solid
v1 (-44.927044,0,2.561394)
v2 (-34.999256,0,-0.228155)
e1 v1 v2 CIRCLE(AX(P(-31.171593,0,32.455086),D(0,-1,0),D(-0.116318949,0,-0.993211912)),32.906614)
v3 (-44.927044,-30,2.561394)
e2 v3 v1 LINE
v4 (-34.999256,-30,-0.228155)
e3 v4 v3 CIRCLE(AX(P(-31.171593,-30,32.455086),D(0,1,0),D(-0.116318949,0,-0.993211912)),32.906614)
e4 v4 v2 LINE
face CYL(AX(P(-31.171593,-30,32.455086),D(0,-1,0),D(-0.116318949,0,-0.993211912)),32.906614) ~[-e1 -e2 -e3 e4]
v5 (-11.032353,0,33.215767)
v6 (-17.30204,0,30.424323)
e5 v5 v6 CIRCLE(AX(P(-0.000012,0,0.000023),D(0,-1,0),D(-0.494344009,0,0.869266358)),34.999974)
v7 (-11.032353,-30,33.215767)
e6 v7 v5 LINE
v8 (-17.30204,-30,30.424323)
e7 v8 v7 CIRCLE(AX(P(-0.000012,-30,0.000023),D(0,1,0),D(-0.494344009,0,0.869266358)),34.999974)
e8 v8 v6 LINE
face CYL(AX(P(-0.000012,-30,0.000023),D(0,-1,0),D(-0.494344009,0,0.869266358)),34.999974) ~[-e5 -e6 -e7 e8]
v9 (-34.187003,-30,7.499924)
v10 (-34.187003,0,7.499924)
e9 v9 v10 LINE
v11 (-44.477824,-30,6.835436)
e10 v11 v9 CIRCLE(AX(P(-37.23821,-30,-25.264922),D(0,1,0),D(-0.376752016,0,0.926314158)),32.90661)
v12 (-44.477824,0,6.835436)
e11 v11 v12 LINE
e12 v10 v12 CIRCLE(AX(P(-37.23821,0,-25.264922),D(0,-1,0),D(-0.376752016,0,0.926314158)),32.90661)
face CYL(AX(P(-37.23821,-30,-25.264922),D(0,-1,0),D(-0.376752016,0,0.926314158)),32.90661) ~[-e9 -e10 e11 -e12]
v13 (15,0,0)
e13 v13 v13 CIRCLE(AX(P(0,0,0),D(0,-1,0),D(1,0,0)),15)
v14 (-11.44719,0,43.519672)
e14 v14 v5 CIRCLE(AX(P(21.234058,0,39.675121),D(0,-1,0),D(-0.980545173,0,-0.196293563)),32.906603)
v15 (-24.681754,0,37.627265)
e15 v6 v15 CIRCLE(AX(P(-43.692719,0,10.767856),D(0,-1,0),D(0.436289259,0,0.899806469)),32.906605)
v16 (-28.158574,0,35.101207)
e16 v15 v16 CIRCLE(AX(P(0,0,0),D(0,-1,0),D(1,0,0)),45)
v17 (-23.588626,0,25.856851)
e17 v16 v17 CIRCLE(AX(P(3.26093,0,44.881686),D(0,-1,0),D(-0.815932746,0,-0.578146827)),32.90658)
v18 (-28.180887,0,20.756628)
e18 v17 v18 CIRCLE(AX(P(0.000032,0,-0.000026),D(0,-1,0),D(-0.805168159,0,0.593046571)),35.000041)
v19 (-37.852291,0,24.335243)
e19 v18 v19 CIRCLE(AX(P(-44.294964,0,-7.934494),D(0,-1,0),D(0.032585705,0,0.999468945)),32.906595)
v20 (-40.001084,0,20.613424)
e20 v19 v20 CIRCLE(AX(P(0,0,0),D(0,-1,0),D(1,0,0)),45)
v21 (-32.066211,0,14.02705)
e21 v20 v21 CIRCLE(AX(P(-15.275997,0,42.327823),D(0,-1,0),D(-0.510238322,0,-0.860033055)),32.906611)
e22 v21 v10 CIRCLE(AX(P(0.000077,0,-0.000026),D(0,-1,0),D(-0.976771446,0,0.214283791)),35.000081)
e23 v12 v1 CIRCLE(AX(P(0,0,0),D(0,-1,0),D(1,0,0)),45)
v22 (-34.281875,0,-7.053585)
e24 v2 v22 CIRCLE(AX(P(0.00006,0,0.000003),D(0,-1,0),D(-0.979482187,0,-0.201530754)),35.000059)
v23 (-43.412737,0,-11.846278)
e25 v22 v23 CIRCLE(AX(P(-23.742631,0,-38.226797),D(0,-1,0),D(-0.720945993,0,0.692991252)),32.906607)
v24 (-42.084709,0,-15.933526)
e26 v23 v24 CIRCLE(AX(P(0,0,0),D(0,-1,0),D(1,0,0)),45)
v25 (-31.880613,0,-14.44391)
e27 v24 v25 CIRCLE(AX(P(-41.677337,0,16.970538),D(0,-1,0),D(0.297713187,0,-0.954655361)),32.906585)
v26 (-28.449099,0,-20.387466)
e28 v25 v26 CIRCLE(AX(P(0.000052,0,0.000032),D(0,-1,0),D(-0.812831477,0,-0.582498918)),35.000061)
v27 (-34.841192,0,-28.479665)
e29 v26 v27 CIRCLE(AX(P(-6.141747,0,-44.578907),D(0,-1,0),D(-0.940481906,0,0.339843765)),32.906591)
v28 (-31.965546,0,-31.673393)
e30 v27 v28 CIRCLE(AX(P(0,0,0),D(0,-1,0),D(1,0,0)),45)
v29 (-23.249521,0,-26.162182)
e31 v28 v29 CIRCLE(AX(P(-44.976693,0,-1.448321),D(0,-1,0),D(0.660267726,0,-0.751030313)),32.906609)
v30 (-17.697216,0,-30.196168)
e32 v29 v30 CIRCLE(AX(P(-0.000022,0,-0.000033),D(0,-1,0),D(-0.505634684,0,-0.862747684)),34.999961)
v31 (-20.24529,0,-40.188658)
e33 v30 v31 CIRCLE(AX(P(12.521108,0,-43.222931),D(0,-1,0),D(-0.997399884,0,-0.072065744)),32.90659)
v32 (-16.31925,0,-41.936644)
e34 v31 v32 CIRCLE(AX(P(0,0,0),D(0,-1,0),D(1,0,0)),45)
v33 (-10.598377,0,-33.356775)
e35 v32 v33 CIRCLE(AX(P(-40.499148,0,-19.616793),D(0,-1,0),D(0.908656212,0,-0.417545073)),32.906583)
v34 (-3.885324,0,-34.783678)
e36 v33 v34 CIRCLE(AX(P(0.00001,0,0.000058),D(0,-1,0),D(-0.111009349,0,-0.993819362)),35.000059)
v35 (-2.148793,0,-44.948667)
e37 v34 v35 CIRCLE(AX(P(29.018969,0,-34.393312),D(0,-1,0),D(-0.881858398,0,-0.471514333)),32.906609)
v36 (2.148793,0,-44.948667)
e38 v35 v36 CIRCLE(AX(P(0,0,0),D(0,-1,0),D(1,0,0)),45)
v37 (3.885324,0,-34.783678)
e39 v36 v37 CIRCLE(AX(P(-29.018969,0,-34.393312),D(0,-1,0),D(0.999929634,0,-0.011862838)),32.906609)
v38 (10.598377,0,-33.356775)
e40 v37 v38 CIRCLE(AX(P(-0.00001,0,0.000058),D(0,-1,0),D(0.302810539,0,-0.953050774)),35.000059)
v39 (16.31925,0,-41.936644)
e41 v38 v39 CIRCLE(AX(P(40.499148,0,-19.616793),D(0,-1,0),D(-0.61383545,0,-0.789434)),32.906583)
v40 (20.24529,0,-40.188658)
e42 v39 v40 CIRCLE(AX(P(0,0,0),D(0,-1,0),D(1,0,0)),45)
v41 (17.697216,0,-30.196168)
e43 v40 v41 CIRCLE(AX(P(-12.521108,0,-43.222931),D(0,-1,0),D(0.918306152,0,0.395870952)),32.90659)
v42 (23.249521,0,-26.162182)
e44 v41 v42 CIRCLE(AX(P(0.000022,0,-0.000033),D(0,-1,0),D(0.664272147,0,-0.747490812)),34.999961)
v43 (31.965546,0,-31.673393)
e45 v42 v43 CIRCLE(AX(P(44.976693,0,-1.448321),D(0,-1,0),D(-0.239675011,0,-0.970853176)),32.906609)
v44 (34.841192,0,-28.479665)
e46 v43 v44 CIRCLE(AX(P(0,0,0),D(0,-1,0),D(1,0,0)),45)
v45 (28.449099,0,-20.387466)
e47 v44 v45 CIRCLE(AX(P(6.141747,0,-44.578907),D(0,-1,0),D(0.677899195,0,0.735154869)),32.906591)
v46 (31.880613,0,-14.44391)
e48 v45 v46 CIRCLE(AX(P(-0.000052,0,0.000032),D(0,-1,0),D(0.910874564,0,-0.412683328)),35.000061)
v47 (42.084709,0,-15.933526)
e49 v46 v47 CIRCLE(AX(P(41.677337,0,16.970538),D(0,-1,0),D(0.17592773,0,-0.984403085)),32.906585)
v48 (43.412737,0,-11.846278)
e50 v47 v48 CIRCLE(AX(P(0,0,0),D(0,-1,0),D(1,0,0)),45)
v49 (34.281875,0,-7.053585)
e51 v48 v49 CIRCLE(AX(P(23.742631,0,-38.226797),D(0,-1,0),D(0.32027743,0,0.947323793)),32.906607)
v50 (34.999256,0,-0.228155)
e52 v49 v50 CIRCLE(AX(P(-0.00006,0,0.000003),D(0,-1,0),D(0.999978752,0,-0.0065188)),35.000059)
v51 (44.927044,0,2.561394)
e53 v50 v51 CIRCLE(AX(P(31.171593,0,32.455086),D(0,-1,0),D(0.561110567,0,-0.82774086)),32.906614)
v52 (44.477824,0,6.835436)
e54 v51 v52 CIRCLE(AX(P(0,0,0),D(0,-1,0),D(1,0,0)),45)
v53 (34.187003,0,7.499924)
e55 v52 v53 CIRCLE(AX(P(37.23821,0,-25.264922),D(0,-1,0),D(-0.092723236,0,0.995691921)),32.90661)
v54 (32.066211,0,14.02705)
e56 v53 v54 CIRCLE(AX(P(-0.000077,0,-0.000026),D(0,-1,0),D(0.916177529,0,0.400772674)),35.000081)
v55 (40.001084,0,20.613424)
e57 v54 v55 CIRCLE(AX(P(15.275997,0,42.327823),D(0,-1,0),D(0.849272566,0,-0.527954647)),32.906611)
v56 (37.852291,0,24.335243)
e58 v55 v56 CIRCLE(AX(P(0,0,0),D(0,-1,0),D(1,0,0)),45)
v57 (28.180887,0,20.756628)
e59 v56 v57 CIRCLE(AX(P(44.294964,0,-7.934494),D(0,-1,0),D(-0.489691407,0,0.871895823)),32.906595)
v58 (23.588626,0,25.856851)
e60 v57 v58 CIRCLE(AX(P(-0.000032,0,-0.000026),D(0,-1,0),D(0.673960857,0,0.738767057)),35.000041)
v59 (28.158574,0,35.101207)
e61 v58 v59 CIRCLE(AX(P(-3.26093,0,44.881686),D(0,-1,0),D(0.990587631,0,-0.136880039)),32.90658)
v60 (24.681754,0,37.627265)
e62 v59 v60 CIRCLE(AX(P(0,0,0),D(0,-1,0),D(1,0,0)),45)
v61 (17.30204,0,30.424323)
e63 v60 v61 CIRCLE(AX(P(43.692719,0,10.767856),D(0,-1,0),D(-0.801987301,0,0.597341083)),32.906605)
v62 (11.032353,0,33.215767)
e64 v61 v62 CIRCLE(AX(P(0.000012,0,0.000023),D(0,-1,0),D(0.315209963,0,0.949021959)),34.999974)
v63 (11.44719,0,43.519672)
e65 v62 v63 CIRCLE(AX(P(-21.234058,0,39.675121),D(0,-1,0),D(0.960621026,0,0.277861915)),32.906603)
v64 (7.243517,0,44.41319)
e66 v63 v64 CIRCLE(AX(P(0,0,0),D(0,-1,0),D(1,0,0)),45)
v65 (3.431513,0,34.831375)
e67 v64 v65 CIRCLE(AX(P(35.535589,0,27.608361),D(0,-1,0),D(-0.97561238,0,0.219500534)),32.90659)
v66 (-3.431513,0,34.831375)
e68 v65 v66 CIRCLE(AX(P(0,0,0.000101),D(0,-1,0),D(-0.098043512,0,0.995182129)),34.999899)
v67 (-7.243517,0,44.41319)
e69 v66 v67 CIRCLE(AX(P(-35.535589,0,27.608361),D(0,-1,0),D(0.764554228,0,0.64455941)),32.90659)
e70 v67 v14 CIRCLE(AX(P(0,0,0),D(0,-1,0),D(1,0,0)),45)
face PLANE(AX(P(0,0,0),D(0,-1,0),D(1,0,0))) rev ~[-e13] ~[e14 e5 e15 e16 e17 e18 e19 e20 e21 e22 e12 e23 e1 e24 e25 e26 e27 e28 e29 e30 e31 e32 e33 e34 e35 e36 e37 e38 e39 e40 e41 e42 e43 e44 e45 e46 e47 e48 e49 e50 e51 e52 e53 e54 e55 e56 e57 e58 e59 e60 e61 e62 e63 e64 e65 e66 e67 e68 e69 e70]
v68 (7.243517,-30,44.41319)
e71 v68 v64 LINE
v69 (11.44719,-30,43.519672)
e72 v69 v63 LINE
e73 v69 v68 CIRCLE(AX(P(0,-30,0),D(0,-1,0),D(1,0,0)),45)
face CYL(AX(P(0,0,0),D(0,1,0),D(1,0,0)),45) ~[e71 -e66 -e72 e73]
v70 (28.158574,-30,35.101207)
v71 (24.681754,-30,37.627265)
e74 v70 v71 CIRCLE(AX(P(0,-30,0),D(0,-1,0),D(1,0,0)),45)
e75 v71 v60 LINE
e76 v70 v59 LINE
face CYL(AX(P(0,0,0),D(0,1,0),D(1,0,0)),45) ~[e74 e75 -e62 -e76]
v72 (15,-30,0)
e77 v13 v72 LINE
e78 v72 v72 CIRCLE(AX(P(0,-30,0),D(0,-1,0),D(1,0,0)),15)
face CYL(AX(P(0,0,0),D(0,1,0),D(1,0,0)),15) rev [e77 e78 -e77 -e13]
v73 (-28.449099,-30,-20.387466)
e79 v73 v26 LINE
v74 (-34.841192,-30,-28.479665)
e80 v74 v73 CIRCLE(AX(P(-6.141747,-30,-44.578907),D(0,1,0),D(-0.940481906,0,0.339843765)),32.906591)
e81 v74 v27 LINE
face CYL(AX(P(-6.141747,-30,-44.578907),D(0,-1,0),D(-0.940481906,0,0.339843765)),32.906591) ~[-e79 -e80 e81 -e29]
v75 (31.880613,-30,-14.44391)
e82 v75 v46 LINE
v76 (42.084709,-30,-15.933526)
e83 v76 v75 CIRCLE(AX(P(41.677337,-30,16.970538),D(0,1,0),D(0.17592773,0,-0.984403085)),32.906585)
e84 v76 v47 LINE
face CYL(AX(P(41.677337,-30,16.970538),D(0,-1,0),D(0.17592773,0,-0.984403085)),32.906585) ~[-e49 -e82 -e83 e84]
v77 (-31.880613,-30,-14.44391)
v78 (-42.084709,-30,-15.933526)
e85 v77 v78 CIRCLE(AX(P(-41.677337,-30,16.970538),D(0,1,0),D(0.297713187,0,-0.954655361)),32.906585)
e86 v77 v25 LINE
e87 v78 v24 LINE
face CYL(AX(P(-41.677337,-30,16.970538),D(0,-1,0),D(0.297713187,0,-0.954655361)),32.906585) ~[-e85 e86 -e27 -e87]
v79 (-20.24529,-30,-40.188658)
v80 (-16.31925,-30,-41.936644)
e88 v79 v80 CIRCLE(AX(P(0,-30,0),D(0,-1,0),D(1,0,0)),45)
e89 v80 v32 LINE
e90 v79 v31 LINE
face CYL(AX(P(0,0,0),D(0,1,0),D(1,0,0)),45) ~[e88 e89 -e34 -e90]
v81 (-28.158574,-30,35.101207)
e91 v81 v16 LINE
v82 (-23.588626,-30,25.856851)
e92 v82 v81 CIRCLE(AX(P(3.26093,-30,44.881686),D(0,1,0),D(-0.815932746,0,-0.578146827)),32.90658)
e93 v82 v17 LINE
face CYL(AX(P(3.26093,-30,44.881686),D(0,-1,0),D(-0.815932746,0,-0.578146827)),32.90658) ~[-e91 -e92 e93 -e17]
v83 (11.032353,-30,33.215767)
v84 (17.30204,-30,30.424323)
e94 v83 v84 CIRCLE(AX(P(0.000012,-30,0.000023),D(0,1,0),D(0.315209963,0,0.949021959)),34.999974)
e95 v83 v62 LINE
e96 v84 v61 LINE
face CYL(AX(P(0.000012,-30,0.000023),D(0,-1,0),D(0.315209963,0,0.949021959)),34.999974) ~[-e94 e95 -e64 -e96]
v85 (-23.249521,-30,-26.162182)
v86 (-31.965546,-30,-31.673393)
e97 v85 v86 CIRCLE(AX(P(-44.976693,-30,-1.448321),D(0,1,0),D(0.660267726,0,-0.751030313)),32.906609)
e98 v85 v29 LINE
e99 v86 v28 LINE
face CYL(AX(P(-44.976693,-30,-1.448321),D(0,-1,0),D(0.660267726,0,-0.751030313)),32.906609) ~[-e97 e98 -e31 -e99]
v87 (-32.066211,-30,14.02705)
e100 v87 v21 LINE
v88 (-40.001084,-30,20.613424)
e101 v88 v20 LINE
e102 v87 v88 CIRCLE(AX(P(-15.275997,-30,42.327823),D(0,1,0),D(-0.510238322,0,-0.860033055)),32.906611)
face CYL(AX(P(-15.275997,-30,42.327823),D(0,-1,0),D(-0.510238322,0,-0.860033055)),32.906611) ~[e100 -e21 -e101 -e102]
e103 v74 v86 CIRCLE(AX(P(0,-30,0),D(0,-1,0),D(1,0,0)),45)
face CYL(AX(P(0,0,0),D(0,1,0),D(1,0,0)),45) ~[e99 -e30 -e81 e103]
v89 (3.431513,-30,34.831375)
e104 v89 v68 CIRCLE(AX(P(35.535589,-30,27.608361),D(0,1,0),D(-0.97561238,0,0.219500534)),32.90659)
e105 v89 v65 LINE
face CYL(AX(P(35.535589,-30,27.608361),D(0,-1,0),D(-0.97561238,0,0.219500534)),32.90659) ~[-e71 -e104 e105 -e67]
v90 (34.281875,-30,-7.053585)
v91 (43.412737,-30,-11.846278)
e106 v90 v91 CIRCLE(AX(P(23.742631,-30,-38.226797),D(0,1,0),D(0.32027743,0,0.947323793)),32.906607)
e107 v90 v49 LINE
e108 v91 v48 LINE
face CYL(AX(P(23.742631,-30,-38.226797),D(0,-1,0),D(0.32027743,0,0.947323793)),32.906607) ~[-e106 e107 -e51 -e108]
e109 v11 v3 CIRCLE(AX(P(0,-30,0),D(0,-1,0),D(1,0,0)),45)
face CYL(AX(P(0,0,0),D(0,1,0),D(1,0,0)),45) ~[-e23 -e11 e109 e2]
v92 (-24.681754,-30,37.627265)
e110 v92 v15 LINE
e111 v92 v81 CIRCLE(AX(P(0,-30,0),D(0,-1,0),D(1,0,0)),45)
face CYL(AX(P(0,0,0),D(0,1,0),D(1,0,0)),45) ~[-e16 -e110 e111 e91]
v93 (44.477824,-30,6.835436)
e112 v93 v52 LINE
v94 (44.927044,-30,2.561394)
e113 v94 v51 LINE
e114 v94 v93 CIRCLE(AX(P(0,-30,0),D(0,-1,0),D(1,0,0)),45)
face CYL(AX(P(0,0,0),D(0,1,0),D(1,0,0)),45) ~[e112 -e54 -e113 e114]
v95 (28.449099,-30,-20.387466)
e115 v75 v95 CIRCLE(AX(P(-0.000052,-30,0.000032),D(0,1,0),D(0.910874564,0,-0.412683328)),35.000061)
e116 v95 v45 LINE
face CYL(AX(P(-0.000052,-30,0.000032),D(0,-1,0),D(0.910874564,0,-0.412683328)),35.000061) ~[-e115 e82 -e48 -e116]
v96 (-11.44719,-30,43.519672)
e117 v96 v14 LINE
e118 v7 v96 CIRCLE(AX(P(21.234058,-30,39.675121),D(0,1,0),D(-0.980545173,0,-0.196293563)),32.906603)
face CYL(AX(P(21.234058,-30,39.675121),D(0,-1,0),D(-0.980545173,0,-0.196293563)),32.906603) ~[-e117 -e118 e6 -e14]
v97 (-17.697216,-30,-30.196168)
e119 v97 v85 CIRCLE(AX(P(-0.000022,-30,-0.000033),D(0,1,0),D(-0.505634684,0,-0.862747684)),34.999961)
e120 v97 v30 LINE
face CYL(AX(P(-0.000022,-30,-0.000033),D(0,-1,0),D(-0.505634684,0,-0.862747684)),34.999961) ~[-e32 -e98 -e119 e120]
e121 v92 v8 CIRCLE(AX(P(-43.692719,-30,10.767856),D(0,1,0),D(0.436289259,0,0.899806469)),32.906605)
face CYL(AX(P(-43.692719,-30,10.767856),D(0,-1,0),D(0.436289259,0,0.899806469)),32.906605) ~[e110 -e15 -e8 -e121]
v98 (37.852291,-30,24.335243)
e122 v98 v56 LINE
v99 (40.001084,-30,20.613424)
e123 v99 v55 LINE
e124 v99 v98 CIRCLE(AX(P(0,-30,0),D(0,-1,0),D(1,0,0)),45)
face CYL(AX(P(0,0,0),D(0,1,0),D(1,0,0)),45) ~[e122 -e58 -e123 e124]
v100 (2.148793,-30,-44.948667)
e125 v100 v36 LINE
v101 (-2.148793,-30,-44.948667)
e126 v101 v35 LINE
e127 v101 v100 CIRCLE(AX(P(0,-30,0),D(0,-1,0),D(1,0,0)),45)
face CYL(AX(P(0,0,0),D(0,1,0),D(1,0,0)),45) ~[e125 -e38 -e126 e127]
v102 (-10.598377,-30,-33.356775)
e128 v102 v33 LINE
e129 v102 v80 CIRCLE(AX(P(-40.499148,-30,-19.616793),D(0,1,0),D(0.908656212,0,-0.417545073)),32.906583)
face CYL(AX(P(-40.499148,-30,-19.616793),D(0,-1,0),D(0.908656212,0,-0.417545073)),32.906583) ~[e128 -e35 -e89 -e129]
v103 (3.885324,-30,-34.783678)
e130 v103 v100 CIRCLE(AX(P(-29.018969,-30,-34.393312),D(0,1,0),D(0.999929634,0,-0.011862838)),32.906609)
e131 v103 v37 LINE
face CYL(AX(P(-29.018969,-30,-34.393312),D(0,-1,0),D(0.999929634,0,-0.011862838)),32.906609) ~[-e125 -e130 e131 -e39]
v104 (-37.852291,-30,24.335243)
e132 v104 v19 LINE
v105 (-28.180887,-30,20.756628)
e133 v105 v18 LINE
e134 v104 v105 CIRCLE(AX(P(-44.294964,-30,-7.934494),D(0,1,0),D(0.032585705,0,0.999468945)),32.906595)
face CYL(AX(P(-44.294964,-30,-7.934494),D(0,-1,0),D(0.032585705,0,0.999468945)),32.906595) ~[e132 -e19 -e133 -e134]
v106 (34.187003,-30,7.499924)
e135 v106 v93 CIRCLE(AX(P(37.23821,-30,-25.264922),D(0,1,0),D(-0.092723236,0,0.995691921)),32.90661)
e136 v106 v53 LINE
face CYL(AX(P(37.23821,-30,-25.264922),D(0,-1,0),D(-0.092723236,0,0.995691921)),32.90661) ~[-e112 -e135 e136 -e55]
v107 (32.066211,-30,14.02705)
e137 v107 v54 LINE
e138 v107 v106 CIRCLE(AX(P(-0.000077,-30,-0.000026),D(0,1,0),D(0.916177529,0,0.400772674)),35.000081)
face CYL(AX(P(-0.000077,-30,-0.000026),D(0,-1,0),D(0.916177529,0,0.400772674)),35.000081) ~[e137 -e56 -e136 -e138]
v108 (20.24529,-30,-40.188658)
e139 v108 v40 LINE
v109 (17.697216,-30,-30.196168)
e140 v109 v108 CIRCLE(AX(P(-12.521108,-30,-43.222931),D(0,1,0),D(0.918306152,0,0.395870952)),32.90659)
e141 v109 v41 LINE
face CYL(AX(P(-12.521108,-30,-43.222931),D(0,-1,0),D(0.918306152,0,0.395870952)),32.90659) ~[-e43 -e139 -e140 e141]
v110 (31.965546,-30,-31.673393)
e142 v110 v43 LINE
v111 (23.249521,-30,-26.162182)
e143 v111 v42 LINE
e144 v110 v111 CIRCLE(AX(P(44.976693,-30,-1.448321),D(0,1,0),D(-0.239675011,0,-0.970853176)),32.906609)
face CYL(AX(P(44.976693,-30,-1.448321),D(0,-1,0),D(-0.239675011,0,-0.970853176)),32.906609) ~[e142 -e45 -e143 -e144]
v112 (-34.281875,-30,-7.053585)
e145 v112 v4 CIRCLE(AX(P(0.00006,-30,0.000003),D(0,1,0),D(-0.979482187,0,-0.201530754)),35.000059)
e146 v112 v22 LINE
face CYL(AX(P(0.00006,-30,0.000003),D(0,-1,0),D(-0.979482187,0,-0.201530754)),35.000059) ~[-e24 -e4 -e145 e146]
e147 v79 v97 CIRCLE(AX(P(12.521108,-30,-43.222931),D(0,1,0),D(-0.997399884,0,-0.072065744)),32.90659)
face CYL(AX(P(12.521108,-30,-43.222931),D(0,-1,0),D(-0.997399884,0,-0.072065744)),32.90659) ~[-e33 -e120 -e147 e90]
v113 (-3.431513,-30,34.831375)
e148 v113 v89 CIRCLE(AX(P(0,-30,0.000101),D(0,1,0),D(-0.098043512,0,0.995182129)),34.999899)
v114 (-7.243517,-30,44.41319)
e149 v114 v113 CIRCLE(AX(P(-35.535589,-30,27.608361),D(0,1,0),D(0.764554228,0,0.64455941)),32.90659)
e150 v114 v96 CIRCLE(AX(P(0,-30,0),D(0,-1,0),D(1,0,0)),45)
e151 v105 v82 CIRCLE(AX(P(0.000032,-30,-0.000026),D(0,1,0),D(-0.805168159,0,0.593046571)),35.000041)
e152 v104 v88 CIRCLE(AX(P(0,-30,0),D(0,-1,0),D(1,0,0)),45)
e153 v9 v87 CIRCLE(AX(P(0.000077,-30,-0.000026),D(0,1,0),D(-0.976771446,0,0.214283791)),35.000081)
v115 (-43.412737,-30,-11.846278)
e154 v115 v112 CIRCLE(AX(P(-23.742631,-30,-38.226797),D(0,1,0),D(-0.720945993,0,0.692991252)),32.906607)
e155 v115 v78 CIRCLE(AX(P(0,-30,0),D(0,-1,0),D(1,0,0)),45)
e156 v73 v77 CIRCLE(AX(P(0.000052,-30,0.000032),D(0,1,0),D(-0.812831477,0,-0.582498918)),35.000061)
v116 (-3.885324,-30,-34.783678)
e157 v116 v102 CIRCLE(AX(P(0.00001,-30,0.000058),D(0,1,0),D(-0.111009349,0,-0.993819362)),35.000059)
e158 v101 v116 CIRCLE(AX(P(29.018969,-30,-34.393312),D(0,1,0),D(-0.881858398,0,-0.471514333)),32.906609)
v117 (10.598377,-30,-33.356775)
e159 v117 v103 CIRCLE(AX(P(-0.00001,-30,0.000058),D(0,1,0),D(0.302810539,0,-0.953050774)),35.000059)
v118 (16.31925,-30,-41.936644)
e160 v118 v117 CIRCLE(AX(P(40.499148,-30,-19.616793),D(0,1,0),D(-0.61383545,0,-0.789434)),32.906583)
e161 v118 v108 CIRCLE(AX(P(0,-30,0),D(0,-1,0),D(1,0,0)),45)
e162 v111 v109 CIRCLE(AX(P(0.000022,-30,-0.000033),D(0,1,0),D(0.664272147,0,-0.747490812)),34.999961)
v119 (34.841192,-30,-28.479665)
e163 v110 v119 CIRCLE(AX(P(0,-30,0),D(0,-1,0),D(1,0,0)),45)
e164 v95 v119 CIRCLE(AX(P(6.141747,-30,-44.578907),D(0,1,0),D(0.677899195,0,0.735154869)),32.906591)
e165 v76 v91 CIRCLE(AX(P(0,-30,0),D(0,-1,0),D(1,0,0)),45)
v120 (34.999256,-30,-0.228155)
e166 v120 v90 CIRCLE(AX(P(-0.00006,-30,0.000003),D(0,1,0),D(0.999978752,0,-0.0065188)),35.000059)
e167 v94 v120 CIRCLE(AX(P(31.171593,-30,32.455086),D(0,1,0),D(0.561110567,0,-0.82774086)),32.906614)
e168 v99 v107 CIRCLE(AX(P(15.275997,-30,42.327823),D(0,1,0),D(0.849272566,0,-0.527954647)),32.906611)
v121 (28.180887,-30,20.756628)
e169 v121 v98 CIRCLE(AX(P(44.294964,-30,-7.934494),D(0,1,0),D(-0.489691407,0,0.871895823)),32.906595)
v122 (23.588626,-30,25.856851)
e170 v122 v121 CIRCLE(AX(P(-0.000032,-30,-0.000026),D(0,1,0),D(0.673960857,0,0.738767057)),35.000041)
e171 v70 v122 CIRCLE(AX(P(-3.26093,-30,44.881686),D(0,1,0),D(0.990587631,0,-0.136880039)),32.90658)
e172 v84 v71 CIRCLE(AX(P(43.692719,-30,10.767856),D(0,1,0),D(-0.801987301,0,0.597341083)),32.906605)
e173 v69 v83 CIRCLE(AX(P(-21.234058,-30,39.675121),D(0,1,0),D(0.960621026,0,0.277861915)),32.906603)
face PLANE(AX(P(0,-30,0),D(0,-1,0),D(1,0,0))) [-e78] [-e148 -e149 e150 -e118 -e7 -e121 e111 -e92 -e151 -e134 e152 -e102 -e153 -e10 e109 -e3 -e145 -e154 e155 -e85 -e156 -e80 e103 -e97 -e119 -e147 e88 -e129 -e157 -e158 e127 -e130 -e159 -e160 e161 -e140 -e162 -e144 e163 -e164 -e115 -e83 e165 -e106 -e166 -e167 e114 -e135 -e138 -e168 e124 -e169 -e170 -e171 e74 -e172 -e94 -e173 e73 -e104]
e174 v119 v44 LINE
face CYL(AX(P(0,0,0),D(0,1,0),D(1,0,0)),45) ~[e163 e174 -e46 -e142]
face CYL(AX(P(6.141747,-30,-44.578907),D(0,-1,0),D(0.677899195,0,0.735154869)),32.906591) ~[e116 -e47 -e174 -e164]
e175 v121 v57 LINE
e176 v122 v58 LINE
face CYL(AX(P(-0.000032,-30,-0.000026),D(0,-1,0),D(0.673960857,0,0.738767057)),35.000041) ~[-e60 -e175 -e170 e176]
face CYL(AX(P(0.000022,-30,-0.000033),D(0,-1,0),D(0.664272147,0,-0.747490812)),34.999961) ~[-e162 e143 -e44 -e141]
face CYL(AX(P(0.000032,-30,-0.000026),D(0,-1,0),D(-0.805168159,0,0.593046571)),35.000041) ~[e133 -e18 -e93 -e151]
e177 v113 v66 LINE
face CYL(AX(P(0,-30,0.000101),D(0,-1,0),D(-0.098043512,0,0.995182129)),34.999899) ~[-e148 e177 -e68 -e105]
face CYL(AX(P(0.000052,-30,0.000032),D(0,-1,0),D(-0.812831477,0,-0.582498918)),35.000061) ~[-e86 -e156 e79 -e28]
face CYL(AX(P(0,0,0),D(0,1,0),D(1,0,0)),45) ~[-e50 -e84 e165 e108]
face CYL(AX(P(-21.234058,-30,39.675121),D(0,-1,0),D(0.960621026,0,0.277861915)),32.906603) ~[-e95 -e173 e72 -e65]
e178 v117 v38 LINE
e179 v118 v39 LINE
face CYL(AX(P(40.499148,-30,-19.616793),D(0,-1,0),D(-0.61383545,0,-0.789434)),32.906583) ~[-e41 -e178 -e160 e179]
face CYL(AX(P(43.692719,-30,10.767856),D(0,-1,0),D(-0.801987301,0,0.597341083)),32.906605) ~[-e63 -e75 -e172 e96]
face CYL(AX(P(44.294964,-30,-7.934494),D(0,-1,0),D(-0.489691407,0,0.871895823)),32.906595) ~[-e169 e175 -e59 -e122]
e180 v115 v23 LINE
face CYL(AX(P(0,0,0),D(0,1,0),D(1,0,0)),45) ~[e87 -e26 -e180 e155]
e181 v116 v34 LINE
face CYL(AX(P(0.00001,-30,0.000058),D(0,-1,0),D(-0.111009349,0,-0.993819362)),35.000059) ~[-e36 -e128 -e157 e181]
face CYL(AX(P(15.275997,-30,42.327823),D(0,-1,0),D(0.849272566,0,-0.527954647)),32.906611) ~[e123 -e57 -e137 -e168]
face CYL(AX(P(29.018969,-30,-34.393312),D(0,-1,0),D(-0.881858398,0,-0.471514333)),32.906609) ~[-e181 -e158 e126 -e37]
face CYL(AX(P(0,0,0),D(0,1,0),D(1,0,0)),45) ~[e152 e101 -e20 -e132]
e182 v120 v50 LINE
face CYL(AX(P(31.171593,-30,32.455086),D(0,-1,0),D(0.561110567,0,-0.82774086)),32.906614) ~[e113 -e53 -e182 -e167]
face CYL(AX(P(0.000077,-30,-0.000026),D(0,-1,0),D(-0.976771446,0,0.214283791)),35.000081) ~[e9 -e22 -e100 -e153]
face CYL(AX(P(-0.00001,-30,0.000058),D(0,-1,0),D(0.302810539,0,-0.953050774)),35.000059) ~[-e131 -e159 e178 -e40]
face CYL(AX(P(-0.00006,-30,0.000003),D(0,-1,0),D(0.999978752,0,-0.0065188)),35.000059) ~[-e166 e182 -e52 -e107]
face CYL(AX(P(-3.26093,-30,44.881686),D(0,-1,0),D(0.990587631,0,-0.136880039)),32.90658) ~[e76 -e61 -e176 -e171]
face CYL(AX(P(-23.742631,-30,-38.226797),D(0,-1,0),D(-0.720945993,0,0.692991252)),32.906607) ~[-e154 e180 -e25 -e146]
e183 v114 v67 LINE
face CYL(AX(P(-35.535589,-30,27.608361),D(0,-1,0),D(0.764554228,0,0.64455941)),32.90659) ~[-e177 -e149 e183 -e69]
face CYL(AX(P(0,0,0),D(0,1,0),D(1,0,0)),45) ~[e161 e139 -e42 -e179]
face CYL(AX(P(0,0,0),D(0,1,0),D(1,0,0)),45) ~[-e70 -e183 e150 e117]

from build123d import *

# Parameters (mm, degrees)
F0_R     = 45
F0_R_2   = 15
F1_DEPTH = 30
F3_DEPTH = 31


with BuildPart() as f1:
    # F0 (on Front) → F1 (new body)
    with BuildSketch(Plane.XZ):
        Circle(F0_R)
        Circle(F0_R_2, mode=Mode.SUBTRACT)
    extrude(amount=F1_DEPTH)

    # F2 (on face) → F3 (cut)
    with BuildSketch(Plane.XZ.offset(30)):
        with BuildLine():
            ThreePointArc((10.376717, 48.818613), (10.409932, 48.857949), (10.443208, 48.897233))
            ThreePointArc((10.443208, 48.897233), (10.395585, 48.90738), (10.347951, 48.917481))
            ThreePointArc((10.347951, 48.917481), (10.362373, 48.868058), (10.376717, 48.818613))
        make_face()
        with BuildLine():
            ThreePointArc((29.349856, 40.479451), (20.336832, 45.677273), (10.443208, 48.897233))
            ThreePointArc((10.443208, 48.897233), (10.409932, 48.857949), (10.376717, 48.818613))
            ThreePointArc((10.376717, 48.818613), (11.643532, 41.056647), (11.032353, 33.215767))
            ThreePointArc((11.032353, 33.215767), (14.235783, 31.974091), (17.30204, 30.424323))
            ThreePointArc((17.30204, 30.424323), (22.719991, 36.12509), (29.335921, 40.377432))
            ThreePointArc((29.335921, 40.377432), (29.342928, 40.428436), (29.349856, 40.479451))
        make_face()
        with BuildLine():
            ThreePointArc((10.376717, 48.818613), (10.362373, 48.868058), (10.347951, 48.917481))
            ThreePointArc((10.347951, 48.917481), (0, 50), (-10.347951, 48.917481))
            ThreePointArc((-10.347951, 48.917481), (-10.362373, 48.868058), (-10.376717, 48.818613))
            ThreePointArc((-10.376717, 48.818613), (-6.062347, 42.242965), (-3.431513, 34.831375))
            ThreePointArc((-3.431513, 34.831375), (0, 35), (3.431513, 34.831375))
            ThreePointArc((3.431513, 34.831375), (6.062347, 42.242965), (10.376717, 48.818613))
        make_face()
        with BuildLine():
            ThreePointArc((29.428642, 40.42221), (29.389263, 40.45085), (29.349856, 40.479451))
            ThreePointArc((29.349856, 40.479451), (29.342928, 40.428436), (29.335921, 40.377432))
            ThreePointArc((29.335921, 40.377432), (29.382264, 40.399857), (29.428642, 40.42221))
        make_face()
        with BuildLine():
            ThreePointArc((-10.376717, 48.818613), (-10.362373, 48.868058), (-10.347951, 48.917481))
            ThreePointArc((-10.347951, 48.917481), (-10.395585, 48.90738), (-10.443208, 48.897233))
            ThreePointArc((-10.443208, 48.897233), (-10.409932, 48.857949), (-10.376717, 48.818613))
        make_face()
        with BuildLine():
            ThreePointArc((43.276903, 25.042157), (37.157241, 33.45653), (29.428642, 40.42221))
            ThreePointArc((29.428642, 40.42221), (29.382264, 40.399857), (29.335921, 40.377432))
            ThreePointArc((29.335921, 40.377432), (27.336139, 32.771262), (23.588626, 25.856851))
            ThreePointArc((23.588626, 25.856851), (26.010069, 23.419571), (28.180887, 20.756628))
            ThreePointArc((28.180887, 20.756628), (35.449143, 23.760859), (43.222679, 24.954625))
            ThreePointArc((43.222679, 24.954625), (43.249825, 24.99837), (43.276903, 25.042157))
        make_face()
        with BuildLine():
            ThreePointArc((-10.376717, 48.818613), (-10.409932, 48.857949), (-10.443208, 48.897233))
            ThreePointArc((-10.443208, 48.897233), (-20.336832, 45.677273), (-29.349856, 40.479451))
            ThreePointArc((-29.349856, 40.479451), (-29.342928, 40.428436), (-29.335921, 40.377432))
            ThreePointArc((-29.335921, 40.377432), (-22.719991, 36.12509), (-17.30204, 30.424323))
            ThreePointArc((-17.30204, 30.424323), (-14.235783, 31.974091), (-11.032353, 33.215767))
            ThreePointArc((-11.032353, 33.215767), (-11.643532, 41.056647), (-10.376717, 48.818613))
        make_face()
        with BuildLine():
            ThreePointArc((43.325596, 24.957819), (43.30127, 25), (43.276903, 25.042157))
            ThreePointArc((43.276903, 25.042157), (43.249825, 24.99837), (43.222679, 24.954625))
            ThreePointArc((43.222679, 24.954625), (43.274136, 24.956262), (43.325596, 24.957819))
        make_face()
        with BuildLine():
            ThreePointArc((-29.335921, 40.377432), (-29.342928, 40.428436), (-29.349856, 40.479451))
            ThreePointArc((-29.349856, 40.479451), (-29.389263, 40.45085), (-29.428642, 40.42221))
            ThreePointArc((-29.428642, 40.42221), (-29.382264, 40.399857), (-29.335921, 40.377432))
        make_face()
        with BuildLine():
            ThreePointArc((49.720981, 5.274846), (47.552826, 15.45085), (43.325596, 24.957819))
            ThreePointArc((43.325596, 24.957819), (43.274136, 24.956262), (43.222679, 24.954625))
            ThreePointArc((43.222679, 24.954625), (38.302079, 18.819429), (32.066211, 14.02705))
            ThreePointArc((32.066211, 14.02705), (33.286978, 10.815595), (34.187003, 7.499924))
            ThreePointArc((34.187003, 7.499924), (42.048815, 7.288159), (49.635842, 5.216937))
            ThreePointArc((49.635842, 5.216937), (49.678434, 5.245858), (49.720981, 5.274846))
        make_face()
        with BuildLine():
            ThreePointArc((-29.335921, 40.377432), (-29.382264, 40.399857), (-29.428642, 40.42221))
            ThreePointArc((-29.428642, 40.42221), (-37.157241, 33.45653), (-43.276903, 25.042157))
            ThreePointArc((-43.276903, 25.042157), (-43.249825, 24.99837), (-43.222679, 24.954625))
            ThreePointArc((-43.222679, 24.954625), (-35.449143, 23.760859), (-28.180887, 20.756628))
            ThreePointArc((-28.180887, 20.756628), (-26.010069, 23.419571), (-23.588626, 25.856851))
            ThreePointArc((-23.588626, 25.856851), (-27.336139, 32.771262), (-29.335921, 40.377432))
        make_face()
        with BuildLine():
            ThreePointArc((49.731161, 5.177995), (49.726095, 5.226423), (49.720981, 5.274846))
            ThreePointArc((49.720981, 5.274846), (49.678434, 5.245858), (49.635842, 5.216937))
            ThreePointArc((49.635842, 5.216937), (49.683517, 5.197503), (49.731161, 5.177995))
        make_face()
        with BuildLine():
            ThreePointArc((-43.222679, 24.954625), (-43.249825, 24.99837), (-43.276903, 25.042157))
            ThreePointArc((-43.276903, 25.042157), (-43.30127, 25), (-43.325596, 24.957819))
            ThreePointArc((-43.325596, 24.957819), (-43.274136, 24.956262), (-43.222679, 24.954625))
        make_face()
        with BuildLine():
            ThreePointArc((47.56785, -15.404533), (49.726095, -5.226423), (49.731161, 5.177995))
            ThreePointArc((49.731161, 5.177995), (49.683517, 5.197503), (49.635842, 5.216937))
            ThreePointArc((49.635842, 5.216937), (42.645241, 1.613545), (34.999256, -0.228155))
            ThreePointArc((34.999256, -0.228155), (34.808266, -3.658496), (34.281875, -7.053585))
            ThreePointArc((34.281875, -7.053585), (41.377866, -10.444729), (47.466518, -15.422806))
            ThreePointArc((47.466518, -15.422806), (47.517191, -15.413709), (47.56785, -15.404533))
        make_face()
        with BuildLine():
            ThreePointArc((-43.222679, 24.954625), (-43.274136, 24.956262), (-43.325596, 24.957819))
            ThreePointArc((-43.325596, 24.957819), (-47.552826, 15.45085), (-49.720981, 5.274846))
            ThreePointArc((-49.720981, 5.274846), (-49.678434, 5.245858), (-49.635842, 5.216937))
            ThreePointArc((-49.635842, 5.216937), (-42.048815, 7.288159), (-34.187003, 7.499924))
            ThreePointArc((-34.187003, 7.499924), (-33.286978, 10.815595), (-32.066211, 14.02705))
            ThreePointArc((-32.066211, 14.02705), (-38.302079, 18.819429), (-43.222679, 24.954625))
        make_face()
        with BuildLine():
            ThreePointArc((47.537757, -15.497152), (47.552826, -15.45085), (47.56785, -15.404533))
            ThreePointArc((47.56785, -15.404533), (47.517191, -15.413709), (47.466518, -15.422806))
            ThreePointArc((47.466518, -15.422806), (47.502166, -15.459951), (47.537757, -15.497152))
        make_face()
        with BuildLine():
            ThreePointArc((-49.635842, 5.216937), (-49.678434, 5.245858), (-49.720981, 5.274846))
            ThreePointArc((-49.720981, 5.274846), (-49.726095, 5.226423), (-49.731161, 5.177995))
            ThreePointArc((-49.731161, 5.177995), (-49.683517, 5.197503), (-49.635842, 5.216937))
        make_face()
        with BuildLine():
            ThreePointArc((37.189805, -33.420329), (43.30127, -25), (47.537757, -15.497152))
            ThreePointArc((47.537757, -15.497152), (47.502166, -15.459951), (47.466518, -15.422806))
            ThreePointArc((47.466518, -15.422806), (39.614654, -15.871336), (31.880613, -14.44391))
            ThreePointArc((31.880613, -14.44391), (30.310889, -17.5), (28.449099, -20.387466))
            ThreePointArc((28.449099, -20.387466), (33.552307, -26.371629), (37.089801, -33.395807))
            ThreePointArc((37.089801, -33.395807), (37.139794, -33.408107), (37.189805, -33.420329))
        make_face()
        with BuildLine():
            ThreePointArc((-49.635842, 5.216937), (-49.683517, 5.197503), (-49.731161, 5.177995))
            ThreePointArc((-49.731161, 5.177995), (-49.726095, -5.226423), (-47.56785, -15.404533))
            ThreePointArc((-47.56785, -15.404533), (-47.517191, -15.413709), (-47.466518, -15.422806))
            ThreePointArc((-47.466518, -15.422806), (-41.377866, -10.444729), (-34.281875, -7.053585))
            ThreePointArc((-34.281875, -7.053585), (-34.808266, -3.658496), (-34.999256, -0.228155))
            ThreePointArc((-34.999256, -0.228155), (-42.645241, 1.613545), (-49.635842, 5.216937))
        make_face()
        with BuildLine():
            ThreePointArc((37.124642, -33.4927), (37.157241, -33.45653), (37.189805, -33.420329))
            ThreePointArc((37.189805, -33.420329), (37.139794, -33.408107), (37.089801, -33.395807))
            ThreePointArc((37.089801, -33.395807), (37.107259, -33.44424), (37.124642, -33.4927))
        make_face()
        with BuildLine():
            ThreePointArc((-47.466518, -15.422806), (-47.517191, -15.413709), (-47.56785, -15.404533))
            ThreePointArc((-47.56785, -15.404533), (-47.552826, -15.45085), (-47.537757, -15.497152))
            ThreePointArc((-47.537757, -15.497152), (-47.502166, -15.459951), (-47.466518, -15.422806))
        make_face()
        with BuildLine():
            ThreePointArc((20.381305, -45.657446), (29.389263, -40.45085), (37.124642, -33.4927))
            ThreePointArc((37.124642, -33.4927), (37.107259, -33.44424), (37.089801, -33.395807))
            ThreePointArc((37.089801, -33.395807), (29.734333, -30.611918), (23.249521, -26.162182))
            ThreePointArc((23.249521, -26.162182), (20.572484, -28.315595), (17.697216, -30.196168))
            ThreePointArc((17.697216, -30.196168), (19.92525, -37.738634), (20.299921, -45.594369))
            ThreePointArc((20.299921, -45.594369), (20.340588, -45.625939), (20.381305, -45.657446))
        make_face()
        with BuildLine():
            ThreePointArc((-47.466518, -15.422806), (-47.502166, -15.459951), (-47.537757, -15.497152))
            ThreePointArc((-47.537757, -15.497152), (-43.30127, -25), (-37.189805, -33.420329))
            ThreePointArc((-37.189805, -33.420329), (-37.139794, -33.408107), (-37.089801, -33.395807))
            ThreePointArc((-37.089801, -33.395807), (-33.552307, -26.371629), (-28.449099, -20.387466))
            ThreePointArc((-28.449099, -20.387466), (-30.310889, -17.5), (-31.880613, -14.44391))
            ThreePointArc((-31.880613, -14.44391), (-39.614654, -15.871336), (-47.466518, -15.422806))
        make_face()
        with BuildLine():
            ThreePointArc((20.29234, -45.697056), (20.336832, -45.677273), (20.381305, -45.657446))
            ThreePointArc((20.381305, -45.657446), (20.340588, -45.625939), (20.299921, -45.594369))
            ThreePointArc((20.299921, -45.594369), (20.296171, -45.645715), (20.29234, -45.697056))
        make_face()
        with BuildLine():
            ThreePointArc((-37.089801, -33.395807), (-37.139794, -33.408107), (-37.189805, -33.420329))
            ThreePointArc((-37.189805, -33.420329), (-37.157241, -33.45653), (-37.124642, -33.4927))
            ThreePointArc((-37.124642, -33.4927), (-37.107259, -33.44424), (-37.089801, -33.395807))
        make_face()
        with BuildLine():
            ThreePointArc((0.048692, -49.999976), (10.395585, -48.90738), (20.29234, -45.697056))
            ThreePointArc((20.29234, -45.697056), (20.296171, -45.645715), (20.299921, -45.594369))
            ThreePointArc((20.299921, -45.594369), (14.712676, -40.059422), (10.598377, -33.356775))
            ThreePointArc((10.598377, -33.356775), (7.276909, -34.235166), (3.885324, -34.783678))
            ThreePointArc((3.885324, -34.783678), (2.852936, -42.580287), (0, -49.90925))
            ThreePointArc((0, -49.90925), (0.024311, -49.954632), (0.048692, -49.999976))
        make_face()
        with BuildLine():
            ThreePointArc((-37.089801, -33.395807), (-37.107259, -33.44424), (-37.124642, -33.4927))
            ThreePointArc((-37.124642, -33.4927), (-29.389263, -40.45085), (-20.381305, -45.657446))
            ThreePointArc((-20.381305, -45.657446), (-20.340588, -45.625939), (-20.299921, -45.594369))
            ThreePointArc((-20.299921, -45.594369), (-19.92525, -37.738634), (-17.697216, -30.196168))
            ThreePointArc((-17.697216, -30.196168), (-20.572484, -28.315595), (-23.249521, -26.162182))
            ThreePointArc((-23.249521, -26.162182), (-29.734333, -30.611918), (-37.089801, -33.395807))
        make_face()
        with BuildLine():
            ThreePointArc((-0.048692, -49.999976), (0, -50), (0.048692, -49.999976))
            ThreePointArc((0.048692, -49.999976), (0.024311, -49.954632), (0, -49.90925))
            ThreePointArc((0, -49.90925), (-0.024311, -49.954632), (-0.048692, -49.999976))
        make_face()
        with BuildLine():
            ThreePointArc((-20.299921, -45.594369), (-20.340588, -45.625939), (-20.381305, -45.657446))
            ThreePointArc((-20.381305, -45.657446), (-20.336832, -45.677273), (-20.29234, -45.697056))
            ThreePointArc((-20.29234, -45.697056), (-20.296171, -45.645715), (-20.299921, -45.594369))
        make_face()
        with BuildLine():
            ThreePointArc((-20.29234, -45.697056), (-10.395585, -48.90738), (-0.048692, -49.999976))
            ThreePointArc((-0.048692, -49.999976), (-0.024311, -49.954632), (0, -49.90925))
            ThreePointArc((0, -49.90925), (-2.852936, -42.580287), (-3.885324, -34.783678))
            ThreePointArc((-3.885324, -34.783678), (-7.276909, -34.235166), (-10.598377, -33.356775))
            ThreePointArc((-10.598377, -33.356775), (-14.712676, -40.059422), (-20.299921, -45.594369))
            ThreePointArc((-20.299921, -45.594369), (-20.296171, -45.645715), (-20.29234, -45.697056))
        make_face()
    extrude(amount=-F3_DEPTH, mode=Mode.SUBTRACT)


solid = f1.part
